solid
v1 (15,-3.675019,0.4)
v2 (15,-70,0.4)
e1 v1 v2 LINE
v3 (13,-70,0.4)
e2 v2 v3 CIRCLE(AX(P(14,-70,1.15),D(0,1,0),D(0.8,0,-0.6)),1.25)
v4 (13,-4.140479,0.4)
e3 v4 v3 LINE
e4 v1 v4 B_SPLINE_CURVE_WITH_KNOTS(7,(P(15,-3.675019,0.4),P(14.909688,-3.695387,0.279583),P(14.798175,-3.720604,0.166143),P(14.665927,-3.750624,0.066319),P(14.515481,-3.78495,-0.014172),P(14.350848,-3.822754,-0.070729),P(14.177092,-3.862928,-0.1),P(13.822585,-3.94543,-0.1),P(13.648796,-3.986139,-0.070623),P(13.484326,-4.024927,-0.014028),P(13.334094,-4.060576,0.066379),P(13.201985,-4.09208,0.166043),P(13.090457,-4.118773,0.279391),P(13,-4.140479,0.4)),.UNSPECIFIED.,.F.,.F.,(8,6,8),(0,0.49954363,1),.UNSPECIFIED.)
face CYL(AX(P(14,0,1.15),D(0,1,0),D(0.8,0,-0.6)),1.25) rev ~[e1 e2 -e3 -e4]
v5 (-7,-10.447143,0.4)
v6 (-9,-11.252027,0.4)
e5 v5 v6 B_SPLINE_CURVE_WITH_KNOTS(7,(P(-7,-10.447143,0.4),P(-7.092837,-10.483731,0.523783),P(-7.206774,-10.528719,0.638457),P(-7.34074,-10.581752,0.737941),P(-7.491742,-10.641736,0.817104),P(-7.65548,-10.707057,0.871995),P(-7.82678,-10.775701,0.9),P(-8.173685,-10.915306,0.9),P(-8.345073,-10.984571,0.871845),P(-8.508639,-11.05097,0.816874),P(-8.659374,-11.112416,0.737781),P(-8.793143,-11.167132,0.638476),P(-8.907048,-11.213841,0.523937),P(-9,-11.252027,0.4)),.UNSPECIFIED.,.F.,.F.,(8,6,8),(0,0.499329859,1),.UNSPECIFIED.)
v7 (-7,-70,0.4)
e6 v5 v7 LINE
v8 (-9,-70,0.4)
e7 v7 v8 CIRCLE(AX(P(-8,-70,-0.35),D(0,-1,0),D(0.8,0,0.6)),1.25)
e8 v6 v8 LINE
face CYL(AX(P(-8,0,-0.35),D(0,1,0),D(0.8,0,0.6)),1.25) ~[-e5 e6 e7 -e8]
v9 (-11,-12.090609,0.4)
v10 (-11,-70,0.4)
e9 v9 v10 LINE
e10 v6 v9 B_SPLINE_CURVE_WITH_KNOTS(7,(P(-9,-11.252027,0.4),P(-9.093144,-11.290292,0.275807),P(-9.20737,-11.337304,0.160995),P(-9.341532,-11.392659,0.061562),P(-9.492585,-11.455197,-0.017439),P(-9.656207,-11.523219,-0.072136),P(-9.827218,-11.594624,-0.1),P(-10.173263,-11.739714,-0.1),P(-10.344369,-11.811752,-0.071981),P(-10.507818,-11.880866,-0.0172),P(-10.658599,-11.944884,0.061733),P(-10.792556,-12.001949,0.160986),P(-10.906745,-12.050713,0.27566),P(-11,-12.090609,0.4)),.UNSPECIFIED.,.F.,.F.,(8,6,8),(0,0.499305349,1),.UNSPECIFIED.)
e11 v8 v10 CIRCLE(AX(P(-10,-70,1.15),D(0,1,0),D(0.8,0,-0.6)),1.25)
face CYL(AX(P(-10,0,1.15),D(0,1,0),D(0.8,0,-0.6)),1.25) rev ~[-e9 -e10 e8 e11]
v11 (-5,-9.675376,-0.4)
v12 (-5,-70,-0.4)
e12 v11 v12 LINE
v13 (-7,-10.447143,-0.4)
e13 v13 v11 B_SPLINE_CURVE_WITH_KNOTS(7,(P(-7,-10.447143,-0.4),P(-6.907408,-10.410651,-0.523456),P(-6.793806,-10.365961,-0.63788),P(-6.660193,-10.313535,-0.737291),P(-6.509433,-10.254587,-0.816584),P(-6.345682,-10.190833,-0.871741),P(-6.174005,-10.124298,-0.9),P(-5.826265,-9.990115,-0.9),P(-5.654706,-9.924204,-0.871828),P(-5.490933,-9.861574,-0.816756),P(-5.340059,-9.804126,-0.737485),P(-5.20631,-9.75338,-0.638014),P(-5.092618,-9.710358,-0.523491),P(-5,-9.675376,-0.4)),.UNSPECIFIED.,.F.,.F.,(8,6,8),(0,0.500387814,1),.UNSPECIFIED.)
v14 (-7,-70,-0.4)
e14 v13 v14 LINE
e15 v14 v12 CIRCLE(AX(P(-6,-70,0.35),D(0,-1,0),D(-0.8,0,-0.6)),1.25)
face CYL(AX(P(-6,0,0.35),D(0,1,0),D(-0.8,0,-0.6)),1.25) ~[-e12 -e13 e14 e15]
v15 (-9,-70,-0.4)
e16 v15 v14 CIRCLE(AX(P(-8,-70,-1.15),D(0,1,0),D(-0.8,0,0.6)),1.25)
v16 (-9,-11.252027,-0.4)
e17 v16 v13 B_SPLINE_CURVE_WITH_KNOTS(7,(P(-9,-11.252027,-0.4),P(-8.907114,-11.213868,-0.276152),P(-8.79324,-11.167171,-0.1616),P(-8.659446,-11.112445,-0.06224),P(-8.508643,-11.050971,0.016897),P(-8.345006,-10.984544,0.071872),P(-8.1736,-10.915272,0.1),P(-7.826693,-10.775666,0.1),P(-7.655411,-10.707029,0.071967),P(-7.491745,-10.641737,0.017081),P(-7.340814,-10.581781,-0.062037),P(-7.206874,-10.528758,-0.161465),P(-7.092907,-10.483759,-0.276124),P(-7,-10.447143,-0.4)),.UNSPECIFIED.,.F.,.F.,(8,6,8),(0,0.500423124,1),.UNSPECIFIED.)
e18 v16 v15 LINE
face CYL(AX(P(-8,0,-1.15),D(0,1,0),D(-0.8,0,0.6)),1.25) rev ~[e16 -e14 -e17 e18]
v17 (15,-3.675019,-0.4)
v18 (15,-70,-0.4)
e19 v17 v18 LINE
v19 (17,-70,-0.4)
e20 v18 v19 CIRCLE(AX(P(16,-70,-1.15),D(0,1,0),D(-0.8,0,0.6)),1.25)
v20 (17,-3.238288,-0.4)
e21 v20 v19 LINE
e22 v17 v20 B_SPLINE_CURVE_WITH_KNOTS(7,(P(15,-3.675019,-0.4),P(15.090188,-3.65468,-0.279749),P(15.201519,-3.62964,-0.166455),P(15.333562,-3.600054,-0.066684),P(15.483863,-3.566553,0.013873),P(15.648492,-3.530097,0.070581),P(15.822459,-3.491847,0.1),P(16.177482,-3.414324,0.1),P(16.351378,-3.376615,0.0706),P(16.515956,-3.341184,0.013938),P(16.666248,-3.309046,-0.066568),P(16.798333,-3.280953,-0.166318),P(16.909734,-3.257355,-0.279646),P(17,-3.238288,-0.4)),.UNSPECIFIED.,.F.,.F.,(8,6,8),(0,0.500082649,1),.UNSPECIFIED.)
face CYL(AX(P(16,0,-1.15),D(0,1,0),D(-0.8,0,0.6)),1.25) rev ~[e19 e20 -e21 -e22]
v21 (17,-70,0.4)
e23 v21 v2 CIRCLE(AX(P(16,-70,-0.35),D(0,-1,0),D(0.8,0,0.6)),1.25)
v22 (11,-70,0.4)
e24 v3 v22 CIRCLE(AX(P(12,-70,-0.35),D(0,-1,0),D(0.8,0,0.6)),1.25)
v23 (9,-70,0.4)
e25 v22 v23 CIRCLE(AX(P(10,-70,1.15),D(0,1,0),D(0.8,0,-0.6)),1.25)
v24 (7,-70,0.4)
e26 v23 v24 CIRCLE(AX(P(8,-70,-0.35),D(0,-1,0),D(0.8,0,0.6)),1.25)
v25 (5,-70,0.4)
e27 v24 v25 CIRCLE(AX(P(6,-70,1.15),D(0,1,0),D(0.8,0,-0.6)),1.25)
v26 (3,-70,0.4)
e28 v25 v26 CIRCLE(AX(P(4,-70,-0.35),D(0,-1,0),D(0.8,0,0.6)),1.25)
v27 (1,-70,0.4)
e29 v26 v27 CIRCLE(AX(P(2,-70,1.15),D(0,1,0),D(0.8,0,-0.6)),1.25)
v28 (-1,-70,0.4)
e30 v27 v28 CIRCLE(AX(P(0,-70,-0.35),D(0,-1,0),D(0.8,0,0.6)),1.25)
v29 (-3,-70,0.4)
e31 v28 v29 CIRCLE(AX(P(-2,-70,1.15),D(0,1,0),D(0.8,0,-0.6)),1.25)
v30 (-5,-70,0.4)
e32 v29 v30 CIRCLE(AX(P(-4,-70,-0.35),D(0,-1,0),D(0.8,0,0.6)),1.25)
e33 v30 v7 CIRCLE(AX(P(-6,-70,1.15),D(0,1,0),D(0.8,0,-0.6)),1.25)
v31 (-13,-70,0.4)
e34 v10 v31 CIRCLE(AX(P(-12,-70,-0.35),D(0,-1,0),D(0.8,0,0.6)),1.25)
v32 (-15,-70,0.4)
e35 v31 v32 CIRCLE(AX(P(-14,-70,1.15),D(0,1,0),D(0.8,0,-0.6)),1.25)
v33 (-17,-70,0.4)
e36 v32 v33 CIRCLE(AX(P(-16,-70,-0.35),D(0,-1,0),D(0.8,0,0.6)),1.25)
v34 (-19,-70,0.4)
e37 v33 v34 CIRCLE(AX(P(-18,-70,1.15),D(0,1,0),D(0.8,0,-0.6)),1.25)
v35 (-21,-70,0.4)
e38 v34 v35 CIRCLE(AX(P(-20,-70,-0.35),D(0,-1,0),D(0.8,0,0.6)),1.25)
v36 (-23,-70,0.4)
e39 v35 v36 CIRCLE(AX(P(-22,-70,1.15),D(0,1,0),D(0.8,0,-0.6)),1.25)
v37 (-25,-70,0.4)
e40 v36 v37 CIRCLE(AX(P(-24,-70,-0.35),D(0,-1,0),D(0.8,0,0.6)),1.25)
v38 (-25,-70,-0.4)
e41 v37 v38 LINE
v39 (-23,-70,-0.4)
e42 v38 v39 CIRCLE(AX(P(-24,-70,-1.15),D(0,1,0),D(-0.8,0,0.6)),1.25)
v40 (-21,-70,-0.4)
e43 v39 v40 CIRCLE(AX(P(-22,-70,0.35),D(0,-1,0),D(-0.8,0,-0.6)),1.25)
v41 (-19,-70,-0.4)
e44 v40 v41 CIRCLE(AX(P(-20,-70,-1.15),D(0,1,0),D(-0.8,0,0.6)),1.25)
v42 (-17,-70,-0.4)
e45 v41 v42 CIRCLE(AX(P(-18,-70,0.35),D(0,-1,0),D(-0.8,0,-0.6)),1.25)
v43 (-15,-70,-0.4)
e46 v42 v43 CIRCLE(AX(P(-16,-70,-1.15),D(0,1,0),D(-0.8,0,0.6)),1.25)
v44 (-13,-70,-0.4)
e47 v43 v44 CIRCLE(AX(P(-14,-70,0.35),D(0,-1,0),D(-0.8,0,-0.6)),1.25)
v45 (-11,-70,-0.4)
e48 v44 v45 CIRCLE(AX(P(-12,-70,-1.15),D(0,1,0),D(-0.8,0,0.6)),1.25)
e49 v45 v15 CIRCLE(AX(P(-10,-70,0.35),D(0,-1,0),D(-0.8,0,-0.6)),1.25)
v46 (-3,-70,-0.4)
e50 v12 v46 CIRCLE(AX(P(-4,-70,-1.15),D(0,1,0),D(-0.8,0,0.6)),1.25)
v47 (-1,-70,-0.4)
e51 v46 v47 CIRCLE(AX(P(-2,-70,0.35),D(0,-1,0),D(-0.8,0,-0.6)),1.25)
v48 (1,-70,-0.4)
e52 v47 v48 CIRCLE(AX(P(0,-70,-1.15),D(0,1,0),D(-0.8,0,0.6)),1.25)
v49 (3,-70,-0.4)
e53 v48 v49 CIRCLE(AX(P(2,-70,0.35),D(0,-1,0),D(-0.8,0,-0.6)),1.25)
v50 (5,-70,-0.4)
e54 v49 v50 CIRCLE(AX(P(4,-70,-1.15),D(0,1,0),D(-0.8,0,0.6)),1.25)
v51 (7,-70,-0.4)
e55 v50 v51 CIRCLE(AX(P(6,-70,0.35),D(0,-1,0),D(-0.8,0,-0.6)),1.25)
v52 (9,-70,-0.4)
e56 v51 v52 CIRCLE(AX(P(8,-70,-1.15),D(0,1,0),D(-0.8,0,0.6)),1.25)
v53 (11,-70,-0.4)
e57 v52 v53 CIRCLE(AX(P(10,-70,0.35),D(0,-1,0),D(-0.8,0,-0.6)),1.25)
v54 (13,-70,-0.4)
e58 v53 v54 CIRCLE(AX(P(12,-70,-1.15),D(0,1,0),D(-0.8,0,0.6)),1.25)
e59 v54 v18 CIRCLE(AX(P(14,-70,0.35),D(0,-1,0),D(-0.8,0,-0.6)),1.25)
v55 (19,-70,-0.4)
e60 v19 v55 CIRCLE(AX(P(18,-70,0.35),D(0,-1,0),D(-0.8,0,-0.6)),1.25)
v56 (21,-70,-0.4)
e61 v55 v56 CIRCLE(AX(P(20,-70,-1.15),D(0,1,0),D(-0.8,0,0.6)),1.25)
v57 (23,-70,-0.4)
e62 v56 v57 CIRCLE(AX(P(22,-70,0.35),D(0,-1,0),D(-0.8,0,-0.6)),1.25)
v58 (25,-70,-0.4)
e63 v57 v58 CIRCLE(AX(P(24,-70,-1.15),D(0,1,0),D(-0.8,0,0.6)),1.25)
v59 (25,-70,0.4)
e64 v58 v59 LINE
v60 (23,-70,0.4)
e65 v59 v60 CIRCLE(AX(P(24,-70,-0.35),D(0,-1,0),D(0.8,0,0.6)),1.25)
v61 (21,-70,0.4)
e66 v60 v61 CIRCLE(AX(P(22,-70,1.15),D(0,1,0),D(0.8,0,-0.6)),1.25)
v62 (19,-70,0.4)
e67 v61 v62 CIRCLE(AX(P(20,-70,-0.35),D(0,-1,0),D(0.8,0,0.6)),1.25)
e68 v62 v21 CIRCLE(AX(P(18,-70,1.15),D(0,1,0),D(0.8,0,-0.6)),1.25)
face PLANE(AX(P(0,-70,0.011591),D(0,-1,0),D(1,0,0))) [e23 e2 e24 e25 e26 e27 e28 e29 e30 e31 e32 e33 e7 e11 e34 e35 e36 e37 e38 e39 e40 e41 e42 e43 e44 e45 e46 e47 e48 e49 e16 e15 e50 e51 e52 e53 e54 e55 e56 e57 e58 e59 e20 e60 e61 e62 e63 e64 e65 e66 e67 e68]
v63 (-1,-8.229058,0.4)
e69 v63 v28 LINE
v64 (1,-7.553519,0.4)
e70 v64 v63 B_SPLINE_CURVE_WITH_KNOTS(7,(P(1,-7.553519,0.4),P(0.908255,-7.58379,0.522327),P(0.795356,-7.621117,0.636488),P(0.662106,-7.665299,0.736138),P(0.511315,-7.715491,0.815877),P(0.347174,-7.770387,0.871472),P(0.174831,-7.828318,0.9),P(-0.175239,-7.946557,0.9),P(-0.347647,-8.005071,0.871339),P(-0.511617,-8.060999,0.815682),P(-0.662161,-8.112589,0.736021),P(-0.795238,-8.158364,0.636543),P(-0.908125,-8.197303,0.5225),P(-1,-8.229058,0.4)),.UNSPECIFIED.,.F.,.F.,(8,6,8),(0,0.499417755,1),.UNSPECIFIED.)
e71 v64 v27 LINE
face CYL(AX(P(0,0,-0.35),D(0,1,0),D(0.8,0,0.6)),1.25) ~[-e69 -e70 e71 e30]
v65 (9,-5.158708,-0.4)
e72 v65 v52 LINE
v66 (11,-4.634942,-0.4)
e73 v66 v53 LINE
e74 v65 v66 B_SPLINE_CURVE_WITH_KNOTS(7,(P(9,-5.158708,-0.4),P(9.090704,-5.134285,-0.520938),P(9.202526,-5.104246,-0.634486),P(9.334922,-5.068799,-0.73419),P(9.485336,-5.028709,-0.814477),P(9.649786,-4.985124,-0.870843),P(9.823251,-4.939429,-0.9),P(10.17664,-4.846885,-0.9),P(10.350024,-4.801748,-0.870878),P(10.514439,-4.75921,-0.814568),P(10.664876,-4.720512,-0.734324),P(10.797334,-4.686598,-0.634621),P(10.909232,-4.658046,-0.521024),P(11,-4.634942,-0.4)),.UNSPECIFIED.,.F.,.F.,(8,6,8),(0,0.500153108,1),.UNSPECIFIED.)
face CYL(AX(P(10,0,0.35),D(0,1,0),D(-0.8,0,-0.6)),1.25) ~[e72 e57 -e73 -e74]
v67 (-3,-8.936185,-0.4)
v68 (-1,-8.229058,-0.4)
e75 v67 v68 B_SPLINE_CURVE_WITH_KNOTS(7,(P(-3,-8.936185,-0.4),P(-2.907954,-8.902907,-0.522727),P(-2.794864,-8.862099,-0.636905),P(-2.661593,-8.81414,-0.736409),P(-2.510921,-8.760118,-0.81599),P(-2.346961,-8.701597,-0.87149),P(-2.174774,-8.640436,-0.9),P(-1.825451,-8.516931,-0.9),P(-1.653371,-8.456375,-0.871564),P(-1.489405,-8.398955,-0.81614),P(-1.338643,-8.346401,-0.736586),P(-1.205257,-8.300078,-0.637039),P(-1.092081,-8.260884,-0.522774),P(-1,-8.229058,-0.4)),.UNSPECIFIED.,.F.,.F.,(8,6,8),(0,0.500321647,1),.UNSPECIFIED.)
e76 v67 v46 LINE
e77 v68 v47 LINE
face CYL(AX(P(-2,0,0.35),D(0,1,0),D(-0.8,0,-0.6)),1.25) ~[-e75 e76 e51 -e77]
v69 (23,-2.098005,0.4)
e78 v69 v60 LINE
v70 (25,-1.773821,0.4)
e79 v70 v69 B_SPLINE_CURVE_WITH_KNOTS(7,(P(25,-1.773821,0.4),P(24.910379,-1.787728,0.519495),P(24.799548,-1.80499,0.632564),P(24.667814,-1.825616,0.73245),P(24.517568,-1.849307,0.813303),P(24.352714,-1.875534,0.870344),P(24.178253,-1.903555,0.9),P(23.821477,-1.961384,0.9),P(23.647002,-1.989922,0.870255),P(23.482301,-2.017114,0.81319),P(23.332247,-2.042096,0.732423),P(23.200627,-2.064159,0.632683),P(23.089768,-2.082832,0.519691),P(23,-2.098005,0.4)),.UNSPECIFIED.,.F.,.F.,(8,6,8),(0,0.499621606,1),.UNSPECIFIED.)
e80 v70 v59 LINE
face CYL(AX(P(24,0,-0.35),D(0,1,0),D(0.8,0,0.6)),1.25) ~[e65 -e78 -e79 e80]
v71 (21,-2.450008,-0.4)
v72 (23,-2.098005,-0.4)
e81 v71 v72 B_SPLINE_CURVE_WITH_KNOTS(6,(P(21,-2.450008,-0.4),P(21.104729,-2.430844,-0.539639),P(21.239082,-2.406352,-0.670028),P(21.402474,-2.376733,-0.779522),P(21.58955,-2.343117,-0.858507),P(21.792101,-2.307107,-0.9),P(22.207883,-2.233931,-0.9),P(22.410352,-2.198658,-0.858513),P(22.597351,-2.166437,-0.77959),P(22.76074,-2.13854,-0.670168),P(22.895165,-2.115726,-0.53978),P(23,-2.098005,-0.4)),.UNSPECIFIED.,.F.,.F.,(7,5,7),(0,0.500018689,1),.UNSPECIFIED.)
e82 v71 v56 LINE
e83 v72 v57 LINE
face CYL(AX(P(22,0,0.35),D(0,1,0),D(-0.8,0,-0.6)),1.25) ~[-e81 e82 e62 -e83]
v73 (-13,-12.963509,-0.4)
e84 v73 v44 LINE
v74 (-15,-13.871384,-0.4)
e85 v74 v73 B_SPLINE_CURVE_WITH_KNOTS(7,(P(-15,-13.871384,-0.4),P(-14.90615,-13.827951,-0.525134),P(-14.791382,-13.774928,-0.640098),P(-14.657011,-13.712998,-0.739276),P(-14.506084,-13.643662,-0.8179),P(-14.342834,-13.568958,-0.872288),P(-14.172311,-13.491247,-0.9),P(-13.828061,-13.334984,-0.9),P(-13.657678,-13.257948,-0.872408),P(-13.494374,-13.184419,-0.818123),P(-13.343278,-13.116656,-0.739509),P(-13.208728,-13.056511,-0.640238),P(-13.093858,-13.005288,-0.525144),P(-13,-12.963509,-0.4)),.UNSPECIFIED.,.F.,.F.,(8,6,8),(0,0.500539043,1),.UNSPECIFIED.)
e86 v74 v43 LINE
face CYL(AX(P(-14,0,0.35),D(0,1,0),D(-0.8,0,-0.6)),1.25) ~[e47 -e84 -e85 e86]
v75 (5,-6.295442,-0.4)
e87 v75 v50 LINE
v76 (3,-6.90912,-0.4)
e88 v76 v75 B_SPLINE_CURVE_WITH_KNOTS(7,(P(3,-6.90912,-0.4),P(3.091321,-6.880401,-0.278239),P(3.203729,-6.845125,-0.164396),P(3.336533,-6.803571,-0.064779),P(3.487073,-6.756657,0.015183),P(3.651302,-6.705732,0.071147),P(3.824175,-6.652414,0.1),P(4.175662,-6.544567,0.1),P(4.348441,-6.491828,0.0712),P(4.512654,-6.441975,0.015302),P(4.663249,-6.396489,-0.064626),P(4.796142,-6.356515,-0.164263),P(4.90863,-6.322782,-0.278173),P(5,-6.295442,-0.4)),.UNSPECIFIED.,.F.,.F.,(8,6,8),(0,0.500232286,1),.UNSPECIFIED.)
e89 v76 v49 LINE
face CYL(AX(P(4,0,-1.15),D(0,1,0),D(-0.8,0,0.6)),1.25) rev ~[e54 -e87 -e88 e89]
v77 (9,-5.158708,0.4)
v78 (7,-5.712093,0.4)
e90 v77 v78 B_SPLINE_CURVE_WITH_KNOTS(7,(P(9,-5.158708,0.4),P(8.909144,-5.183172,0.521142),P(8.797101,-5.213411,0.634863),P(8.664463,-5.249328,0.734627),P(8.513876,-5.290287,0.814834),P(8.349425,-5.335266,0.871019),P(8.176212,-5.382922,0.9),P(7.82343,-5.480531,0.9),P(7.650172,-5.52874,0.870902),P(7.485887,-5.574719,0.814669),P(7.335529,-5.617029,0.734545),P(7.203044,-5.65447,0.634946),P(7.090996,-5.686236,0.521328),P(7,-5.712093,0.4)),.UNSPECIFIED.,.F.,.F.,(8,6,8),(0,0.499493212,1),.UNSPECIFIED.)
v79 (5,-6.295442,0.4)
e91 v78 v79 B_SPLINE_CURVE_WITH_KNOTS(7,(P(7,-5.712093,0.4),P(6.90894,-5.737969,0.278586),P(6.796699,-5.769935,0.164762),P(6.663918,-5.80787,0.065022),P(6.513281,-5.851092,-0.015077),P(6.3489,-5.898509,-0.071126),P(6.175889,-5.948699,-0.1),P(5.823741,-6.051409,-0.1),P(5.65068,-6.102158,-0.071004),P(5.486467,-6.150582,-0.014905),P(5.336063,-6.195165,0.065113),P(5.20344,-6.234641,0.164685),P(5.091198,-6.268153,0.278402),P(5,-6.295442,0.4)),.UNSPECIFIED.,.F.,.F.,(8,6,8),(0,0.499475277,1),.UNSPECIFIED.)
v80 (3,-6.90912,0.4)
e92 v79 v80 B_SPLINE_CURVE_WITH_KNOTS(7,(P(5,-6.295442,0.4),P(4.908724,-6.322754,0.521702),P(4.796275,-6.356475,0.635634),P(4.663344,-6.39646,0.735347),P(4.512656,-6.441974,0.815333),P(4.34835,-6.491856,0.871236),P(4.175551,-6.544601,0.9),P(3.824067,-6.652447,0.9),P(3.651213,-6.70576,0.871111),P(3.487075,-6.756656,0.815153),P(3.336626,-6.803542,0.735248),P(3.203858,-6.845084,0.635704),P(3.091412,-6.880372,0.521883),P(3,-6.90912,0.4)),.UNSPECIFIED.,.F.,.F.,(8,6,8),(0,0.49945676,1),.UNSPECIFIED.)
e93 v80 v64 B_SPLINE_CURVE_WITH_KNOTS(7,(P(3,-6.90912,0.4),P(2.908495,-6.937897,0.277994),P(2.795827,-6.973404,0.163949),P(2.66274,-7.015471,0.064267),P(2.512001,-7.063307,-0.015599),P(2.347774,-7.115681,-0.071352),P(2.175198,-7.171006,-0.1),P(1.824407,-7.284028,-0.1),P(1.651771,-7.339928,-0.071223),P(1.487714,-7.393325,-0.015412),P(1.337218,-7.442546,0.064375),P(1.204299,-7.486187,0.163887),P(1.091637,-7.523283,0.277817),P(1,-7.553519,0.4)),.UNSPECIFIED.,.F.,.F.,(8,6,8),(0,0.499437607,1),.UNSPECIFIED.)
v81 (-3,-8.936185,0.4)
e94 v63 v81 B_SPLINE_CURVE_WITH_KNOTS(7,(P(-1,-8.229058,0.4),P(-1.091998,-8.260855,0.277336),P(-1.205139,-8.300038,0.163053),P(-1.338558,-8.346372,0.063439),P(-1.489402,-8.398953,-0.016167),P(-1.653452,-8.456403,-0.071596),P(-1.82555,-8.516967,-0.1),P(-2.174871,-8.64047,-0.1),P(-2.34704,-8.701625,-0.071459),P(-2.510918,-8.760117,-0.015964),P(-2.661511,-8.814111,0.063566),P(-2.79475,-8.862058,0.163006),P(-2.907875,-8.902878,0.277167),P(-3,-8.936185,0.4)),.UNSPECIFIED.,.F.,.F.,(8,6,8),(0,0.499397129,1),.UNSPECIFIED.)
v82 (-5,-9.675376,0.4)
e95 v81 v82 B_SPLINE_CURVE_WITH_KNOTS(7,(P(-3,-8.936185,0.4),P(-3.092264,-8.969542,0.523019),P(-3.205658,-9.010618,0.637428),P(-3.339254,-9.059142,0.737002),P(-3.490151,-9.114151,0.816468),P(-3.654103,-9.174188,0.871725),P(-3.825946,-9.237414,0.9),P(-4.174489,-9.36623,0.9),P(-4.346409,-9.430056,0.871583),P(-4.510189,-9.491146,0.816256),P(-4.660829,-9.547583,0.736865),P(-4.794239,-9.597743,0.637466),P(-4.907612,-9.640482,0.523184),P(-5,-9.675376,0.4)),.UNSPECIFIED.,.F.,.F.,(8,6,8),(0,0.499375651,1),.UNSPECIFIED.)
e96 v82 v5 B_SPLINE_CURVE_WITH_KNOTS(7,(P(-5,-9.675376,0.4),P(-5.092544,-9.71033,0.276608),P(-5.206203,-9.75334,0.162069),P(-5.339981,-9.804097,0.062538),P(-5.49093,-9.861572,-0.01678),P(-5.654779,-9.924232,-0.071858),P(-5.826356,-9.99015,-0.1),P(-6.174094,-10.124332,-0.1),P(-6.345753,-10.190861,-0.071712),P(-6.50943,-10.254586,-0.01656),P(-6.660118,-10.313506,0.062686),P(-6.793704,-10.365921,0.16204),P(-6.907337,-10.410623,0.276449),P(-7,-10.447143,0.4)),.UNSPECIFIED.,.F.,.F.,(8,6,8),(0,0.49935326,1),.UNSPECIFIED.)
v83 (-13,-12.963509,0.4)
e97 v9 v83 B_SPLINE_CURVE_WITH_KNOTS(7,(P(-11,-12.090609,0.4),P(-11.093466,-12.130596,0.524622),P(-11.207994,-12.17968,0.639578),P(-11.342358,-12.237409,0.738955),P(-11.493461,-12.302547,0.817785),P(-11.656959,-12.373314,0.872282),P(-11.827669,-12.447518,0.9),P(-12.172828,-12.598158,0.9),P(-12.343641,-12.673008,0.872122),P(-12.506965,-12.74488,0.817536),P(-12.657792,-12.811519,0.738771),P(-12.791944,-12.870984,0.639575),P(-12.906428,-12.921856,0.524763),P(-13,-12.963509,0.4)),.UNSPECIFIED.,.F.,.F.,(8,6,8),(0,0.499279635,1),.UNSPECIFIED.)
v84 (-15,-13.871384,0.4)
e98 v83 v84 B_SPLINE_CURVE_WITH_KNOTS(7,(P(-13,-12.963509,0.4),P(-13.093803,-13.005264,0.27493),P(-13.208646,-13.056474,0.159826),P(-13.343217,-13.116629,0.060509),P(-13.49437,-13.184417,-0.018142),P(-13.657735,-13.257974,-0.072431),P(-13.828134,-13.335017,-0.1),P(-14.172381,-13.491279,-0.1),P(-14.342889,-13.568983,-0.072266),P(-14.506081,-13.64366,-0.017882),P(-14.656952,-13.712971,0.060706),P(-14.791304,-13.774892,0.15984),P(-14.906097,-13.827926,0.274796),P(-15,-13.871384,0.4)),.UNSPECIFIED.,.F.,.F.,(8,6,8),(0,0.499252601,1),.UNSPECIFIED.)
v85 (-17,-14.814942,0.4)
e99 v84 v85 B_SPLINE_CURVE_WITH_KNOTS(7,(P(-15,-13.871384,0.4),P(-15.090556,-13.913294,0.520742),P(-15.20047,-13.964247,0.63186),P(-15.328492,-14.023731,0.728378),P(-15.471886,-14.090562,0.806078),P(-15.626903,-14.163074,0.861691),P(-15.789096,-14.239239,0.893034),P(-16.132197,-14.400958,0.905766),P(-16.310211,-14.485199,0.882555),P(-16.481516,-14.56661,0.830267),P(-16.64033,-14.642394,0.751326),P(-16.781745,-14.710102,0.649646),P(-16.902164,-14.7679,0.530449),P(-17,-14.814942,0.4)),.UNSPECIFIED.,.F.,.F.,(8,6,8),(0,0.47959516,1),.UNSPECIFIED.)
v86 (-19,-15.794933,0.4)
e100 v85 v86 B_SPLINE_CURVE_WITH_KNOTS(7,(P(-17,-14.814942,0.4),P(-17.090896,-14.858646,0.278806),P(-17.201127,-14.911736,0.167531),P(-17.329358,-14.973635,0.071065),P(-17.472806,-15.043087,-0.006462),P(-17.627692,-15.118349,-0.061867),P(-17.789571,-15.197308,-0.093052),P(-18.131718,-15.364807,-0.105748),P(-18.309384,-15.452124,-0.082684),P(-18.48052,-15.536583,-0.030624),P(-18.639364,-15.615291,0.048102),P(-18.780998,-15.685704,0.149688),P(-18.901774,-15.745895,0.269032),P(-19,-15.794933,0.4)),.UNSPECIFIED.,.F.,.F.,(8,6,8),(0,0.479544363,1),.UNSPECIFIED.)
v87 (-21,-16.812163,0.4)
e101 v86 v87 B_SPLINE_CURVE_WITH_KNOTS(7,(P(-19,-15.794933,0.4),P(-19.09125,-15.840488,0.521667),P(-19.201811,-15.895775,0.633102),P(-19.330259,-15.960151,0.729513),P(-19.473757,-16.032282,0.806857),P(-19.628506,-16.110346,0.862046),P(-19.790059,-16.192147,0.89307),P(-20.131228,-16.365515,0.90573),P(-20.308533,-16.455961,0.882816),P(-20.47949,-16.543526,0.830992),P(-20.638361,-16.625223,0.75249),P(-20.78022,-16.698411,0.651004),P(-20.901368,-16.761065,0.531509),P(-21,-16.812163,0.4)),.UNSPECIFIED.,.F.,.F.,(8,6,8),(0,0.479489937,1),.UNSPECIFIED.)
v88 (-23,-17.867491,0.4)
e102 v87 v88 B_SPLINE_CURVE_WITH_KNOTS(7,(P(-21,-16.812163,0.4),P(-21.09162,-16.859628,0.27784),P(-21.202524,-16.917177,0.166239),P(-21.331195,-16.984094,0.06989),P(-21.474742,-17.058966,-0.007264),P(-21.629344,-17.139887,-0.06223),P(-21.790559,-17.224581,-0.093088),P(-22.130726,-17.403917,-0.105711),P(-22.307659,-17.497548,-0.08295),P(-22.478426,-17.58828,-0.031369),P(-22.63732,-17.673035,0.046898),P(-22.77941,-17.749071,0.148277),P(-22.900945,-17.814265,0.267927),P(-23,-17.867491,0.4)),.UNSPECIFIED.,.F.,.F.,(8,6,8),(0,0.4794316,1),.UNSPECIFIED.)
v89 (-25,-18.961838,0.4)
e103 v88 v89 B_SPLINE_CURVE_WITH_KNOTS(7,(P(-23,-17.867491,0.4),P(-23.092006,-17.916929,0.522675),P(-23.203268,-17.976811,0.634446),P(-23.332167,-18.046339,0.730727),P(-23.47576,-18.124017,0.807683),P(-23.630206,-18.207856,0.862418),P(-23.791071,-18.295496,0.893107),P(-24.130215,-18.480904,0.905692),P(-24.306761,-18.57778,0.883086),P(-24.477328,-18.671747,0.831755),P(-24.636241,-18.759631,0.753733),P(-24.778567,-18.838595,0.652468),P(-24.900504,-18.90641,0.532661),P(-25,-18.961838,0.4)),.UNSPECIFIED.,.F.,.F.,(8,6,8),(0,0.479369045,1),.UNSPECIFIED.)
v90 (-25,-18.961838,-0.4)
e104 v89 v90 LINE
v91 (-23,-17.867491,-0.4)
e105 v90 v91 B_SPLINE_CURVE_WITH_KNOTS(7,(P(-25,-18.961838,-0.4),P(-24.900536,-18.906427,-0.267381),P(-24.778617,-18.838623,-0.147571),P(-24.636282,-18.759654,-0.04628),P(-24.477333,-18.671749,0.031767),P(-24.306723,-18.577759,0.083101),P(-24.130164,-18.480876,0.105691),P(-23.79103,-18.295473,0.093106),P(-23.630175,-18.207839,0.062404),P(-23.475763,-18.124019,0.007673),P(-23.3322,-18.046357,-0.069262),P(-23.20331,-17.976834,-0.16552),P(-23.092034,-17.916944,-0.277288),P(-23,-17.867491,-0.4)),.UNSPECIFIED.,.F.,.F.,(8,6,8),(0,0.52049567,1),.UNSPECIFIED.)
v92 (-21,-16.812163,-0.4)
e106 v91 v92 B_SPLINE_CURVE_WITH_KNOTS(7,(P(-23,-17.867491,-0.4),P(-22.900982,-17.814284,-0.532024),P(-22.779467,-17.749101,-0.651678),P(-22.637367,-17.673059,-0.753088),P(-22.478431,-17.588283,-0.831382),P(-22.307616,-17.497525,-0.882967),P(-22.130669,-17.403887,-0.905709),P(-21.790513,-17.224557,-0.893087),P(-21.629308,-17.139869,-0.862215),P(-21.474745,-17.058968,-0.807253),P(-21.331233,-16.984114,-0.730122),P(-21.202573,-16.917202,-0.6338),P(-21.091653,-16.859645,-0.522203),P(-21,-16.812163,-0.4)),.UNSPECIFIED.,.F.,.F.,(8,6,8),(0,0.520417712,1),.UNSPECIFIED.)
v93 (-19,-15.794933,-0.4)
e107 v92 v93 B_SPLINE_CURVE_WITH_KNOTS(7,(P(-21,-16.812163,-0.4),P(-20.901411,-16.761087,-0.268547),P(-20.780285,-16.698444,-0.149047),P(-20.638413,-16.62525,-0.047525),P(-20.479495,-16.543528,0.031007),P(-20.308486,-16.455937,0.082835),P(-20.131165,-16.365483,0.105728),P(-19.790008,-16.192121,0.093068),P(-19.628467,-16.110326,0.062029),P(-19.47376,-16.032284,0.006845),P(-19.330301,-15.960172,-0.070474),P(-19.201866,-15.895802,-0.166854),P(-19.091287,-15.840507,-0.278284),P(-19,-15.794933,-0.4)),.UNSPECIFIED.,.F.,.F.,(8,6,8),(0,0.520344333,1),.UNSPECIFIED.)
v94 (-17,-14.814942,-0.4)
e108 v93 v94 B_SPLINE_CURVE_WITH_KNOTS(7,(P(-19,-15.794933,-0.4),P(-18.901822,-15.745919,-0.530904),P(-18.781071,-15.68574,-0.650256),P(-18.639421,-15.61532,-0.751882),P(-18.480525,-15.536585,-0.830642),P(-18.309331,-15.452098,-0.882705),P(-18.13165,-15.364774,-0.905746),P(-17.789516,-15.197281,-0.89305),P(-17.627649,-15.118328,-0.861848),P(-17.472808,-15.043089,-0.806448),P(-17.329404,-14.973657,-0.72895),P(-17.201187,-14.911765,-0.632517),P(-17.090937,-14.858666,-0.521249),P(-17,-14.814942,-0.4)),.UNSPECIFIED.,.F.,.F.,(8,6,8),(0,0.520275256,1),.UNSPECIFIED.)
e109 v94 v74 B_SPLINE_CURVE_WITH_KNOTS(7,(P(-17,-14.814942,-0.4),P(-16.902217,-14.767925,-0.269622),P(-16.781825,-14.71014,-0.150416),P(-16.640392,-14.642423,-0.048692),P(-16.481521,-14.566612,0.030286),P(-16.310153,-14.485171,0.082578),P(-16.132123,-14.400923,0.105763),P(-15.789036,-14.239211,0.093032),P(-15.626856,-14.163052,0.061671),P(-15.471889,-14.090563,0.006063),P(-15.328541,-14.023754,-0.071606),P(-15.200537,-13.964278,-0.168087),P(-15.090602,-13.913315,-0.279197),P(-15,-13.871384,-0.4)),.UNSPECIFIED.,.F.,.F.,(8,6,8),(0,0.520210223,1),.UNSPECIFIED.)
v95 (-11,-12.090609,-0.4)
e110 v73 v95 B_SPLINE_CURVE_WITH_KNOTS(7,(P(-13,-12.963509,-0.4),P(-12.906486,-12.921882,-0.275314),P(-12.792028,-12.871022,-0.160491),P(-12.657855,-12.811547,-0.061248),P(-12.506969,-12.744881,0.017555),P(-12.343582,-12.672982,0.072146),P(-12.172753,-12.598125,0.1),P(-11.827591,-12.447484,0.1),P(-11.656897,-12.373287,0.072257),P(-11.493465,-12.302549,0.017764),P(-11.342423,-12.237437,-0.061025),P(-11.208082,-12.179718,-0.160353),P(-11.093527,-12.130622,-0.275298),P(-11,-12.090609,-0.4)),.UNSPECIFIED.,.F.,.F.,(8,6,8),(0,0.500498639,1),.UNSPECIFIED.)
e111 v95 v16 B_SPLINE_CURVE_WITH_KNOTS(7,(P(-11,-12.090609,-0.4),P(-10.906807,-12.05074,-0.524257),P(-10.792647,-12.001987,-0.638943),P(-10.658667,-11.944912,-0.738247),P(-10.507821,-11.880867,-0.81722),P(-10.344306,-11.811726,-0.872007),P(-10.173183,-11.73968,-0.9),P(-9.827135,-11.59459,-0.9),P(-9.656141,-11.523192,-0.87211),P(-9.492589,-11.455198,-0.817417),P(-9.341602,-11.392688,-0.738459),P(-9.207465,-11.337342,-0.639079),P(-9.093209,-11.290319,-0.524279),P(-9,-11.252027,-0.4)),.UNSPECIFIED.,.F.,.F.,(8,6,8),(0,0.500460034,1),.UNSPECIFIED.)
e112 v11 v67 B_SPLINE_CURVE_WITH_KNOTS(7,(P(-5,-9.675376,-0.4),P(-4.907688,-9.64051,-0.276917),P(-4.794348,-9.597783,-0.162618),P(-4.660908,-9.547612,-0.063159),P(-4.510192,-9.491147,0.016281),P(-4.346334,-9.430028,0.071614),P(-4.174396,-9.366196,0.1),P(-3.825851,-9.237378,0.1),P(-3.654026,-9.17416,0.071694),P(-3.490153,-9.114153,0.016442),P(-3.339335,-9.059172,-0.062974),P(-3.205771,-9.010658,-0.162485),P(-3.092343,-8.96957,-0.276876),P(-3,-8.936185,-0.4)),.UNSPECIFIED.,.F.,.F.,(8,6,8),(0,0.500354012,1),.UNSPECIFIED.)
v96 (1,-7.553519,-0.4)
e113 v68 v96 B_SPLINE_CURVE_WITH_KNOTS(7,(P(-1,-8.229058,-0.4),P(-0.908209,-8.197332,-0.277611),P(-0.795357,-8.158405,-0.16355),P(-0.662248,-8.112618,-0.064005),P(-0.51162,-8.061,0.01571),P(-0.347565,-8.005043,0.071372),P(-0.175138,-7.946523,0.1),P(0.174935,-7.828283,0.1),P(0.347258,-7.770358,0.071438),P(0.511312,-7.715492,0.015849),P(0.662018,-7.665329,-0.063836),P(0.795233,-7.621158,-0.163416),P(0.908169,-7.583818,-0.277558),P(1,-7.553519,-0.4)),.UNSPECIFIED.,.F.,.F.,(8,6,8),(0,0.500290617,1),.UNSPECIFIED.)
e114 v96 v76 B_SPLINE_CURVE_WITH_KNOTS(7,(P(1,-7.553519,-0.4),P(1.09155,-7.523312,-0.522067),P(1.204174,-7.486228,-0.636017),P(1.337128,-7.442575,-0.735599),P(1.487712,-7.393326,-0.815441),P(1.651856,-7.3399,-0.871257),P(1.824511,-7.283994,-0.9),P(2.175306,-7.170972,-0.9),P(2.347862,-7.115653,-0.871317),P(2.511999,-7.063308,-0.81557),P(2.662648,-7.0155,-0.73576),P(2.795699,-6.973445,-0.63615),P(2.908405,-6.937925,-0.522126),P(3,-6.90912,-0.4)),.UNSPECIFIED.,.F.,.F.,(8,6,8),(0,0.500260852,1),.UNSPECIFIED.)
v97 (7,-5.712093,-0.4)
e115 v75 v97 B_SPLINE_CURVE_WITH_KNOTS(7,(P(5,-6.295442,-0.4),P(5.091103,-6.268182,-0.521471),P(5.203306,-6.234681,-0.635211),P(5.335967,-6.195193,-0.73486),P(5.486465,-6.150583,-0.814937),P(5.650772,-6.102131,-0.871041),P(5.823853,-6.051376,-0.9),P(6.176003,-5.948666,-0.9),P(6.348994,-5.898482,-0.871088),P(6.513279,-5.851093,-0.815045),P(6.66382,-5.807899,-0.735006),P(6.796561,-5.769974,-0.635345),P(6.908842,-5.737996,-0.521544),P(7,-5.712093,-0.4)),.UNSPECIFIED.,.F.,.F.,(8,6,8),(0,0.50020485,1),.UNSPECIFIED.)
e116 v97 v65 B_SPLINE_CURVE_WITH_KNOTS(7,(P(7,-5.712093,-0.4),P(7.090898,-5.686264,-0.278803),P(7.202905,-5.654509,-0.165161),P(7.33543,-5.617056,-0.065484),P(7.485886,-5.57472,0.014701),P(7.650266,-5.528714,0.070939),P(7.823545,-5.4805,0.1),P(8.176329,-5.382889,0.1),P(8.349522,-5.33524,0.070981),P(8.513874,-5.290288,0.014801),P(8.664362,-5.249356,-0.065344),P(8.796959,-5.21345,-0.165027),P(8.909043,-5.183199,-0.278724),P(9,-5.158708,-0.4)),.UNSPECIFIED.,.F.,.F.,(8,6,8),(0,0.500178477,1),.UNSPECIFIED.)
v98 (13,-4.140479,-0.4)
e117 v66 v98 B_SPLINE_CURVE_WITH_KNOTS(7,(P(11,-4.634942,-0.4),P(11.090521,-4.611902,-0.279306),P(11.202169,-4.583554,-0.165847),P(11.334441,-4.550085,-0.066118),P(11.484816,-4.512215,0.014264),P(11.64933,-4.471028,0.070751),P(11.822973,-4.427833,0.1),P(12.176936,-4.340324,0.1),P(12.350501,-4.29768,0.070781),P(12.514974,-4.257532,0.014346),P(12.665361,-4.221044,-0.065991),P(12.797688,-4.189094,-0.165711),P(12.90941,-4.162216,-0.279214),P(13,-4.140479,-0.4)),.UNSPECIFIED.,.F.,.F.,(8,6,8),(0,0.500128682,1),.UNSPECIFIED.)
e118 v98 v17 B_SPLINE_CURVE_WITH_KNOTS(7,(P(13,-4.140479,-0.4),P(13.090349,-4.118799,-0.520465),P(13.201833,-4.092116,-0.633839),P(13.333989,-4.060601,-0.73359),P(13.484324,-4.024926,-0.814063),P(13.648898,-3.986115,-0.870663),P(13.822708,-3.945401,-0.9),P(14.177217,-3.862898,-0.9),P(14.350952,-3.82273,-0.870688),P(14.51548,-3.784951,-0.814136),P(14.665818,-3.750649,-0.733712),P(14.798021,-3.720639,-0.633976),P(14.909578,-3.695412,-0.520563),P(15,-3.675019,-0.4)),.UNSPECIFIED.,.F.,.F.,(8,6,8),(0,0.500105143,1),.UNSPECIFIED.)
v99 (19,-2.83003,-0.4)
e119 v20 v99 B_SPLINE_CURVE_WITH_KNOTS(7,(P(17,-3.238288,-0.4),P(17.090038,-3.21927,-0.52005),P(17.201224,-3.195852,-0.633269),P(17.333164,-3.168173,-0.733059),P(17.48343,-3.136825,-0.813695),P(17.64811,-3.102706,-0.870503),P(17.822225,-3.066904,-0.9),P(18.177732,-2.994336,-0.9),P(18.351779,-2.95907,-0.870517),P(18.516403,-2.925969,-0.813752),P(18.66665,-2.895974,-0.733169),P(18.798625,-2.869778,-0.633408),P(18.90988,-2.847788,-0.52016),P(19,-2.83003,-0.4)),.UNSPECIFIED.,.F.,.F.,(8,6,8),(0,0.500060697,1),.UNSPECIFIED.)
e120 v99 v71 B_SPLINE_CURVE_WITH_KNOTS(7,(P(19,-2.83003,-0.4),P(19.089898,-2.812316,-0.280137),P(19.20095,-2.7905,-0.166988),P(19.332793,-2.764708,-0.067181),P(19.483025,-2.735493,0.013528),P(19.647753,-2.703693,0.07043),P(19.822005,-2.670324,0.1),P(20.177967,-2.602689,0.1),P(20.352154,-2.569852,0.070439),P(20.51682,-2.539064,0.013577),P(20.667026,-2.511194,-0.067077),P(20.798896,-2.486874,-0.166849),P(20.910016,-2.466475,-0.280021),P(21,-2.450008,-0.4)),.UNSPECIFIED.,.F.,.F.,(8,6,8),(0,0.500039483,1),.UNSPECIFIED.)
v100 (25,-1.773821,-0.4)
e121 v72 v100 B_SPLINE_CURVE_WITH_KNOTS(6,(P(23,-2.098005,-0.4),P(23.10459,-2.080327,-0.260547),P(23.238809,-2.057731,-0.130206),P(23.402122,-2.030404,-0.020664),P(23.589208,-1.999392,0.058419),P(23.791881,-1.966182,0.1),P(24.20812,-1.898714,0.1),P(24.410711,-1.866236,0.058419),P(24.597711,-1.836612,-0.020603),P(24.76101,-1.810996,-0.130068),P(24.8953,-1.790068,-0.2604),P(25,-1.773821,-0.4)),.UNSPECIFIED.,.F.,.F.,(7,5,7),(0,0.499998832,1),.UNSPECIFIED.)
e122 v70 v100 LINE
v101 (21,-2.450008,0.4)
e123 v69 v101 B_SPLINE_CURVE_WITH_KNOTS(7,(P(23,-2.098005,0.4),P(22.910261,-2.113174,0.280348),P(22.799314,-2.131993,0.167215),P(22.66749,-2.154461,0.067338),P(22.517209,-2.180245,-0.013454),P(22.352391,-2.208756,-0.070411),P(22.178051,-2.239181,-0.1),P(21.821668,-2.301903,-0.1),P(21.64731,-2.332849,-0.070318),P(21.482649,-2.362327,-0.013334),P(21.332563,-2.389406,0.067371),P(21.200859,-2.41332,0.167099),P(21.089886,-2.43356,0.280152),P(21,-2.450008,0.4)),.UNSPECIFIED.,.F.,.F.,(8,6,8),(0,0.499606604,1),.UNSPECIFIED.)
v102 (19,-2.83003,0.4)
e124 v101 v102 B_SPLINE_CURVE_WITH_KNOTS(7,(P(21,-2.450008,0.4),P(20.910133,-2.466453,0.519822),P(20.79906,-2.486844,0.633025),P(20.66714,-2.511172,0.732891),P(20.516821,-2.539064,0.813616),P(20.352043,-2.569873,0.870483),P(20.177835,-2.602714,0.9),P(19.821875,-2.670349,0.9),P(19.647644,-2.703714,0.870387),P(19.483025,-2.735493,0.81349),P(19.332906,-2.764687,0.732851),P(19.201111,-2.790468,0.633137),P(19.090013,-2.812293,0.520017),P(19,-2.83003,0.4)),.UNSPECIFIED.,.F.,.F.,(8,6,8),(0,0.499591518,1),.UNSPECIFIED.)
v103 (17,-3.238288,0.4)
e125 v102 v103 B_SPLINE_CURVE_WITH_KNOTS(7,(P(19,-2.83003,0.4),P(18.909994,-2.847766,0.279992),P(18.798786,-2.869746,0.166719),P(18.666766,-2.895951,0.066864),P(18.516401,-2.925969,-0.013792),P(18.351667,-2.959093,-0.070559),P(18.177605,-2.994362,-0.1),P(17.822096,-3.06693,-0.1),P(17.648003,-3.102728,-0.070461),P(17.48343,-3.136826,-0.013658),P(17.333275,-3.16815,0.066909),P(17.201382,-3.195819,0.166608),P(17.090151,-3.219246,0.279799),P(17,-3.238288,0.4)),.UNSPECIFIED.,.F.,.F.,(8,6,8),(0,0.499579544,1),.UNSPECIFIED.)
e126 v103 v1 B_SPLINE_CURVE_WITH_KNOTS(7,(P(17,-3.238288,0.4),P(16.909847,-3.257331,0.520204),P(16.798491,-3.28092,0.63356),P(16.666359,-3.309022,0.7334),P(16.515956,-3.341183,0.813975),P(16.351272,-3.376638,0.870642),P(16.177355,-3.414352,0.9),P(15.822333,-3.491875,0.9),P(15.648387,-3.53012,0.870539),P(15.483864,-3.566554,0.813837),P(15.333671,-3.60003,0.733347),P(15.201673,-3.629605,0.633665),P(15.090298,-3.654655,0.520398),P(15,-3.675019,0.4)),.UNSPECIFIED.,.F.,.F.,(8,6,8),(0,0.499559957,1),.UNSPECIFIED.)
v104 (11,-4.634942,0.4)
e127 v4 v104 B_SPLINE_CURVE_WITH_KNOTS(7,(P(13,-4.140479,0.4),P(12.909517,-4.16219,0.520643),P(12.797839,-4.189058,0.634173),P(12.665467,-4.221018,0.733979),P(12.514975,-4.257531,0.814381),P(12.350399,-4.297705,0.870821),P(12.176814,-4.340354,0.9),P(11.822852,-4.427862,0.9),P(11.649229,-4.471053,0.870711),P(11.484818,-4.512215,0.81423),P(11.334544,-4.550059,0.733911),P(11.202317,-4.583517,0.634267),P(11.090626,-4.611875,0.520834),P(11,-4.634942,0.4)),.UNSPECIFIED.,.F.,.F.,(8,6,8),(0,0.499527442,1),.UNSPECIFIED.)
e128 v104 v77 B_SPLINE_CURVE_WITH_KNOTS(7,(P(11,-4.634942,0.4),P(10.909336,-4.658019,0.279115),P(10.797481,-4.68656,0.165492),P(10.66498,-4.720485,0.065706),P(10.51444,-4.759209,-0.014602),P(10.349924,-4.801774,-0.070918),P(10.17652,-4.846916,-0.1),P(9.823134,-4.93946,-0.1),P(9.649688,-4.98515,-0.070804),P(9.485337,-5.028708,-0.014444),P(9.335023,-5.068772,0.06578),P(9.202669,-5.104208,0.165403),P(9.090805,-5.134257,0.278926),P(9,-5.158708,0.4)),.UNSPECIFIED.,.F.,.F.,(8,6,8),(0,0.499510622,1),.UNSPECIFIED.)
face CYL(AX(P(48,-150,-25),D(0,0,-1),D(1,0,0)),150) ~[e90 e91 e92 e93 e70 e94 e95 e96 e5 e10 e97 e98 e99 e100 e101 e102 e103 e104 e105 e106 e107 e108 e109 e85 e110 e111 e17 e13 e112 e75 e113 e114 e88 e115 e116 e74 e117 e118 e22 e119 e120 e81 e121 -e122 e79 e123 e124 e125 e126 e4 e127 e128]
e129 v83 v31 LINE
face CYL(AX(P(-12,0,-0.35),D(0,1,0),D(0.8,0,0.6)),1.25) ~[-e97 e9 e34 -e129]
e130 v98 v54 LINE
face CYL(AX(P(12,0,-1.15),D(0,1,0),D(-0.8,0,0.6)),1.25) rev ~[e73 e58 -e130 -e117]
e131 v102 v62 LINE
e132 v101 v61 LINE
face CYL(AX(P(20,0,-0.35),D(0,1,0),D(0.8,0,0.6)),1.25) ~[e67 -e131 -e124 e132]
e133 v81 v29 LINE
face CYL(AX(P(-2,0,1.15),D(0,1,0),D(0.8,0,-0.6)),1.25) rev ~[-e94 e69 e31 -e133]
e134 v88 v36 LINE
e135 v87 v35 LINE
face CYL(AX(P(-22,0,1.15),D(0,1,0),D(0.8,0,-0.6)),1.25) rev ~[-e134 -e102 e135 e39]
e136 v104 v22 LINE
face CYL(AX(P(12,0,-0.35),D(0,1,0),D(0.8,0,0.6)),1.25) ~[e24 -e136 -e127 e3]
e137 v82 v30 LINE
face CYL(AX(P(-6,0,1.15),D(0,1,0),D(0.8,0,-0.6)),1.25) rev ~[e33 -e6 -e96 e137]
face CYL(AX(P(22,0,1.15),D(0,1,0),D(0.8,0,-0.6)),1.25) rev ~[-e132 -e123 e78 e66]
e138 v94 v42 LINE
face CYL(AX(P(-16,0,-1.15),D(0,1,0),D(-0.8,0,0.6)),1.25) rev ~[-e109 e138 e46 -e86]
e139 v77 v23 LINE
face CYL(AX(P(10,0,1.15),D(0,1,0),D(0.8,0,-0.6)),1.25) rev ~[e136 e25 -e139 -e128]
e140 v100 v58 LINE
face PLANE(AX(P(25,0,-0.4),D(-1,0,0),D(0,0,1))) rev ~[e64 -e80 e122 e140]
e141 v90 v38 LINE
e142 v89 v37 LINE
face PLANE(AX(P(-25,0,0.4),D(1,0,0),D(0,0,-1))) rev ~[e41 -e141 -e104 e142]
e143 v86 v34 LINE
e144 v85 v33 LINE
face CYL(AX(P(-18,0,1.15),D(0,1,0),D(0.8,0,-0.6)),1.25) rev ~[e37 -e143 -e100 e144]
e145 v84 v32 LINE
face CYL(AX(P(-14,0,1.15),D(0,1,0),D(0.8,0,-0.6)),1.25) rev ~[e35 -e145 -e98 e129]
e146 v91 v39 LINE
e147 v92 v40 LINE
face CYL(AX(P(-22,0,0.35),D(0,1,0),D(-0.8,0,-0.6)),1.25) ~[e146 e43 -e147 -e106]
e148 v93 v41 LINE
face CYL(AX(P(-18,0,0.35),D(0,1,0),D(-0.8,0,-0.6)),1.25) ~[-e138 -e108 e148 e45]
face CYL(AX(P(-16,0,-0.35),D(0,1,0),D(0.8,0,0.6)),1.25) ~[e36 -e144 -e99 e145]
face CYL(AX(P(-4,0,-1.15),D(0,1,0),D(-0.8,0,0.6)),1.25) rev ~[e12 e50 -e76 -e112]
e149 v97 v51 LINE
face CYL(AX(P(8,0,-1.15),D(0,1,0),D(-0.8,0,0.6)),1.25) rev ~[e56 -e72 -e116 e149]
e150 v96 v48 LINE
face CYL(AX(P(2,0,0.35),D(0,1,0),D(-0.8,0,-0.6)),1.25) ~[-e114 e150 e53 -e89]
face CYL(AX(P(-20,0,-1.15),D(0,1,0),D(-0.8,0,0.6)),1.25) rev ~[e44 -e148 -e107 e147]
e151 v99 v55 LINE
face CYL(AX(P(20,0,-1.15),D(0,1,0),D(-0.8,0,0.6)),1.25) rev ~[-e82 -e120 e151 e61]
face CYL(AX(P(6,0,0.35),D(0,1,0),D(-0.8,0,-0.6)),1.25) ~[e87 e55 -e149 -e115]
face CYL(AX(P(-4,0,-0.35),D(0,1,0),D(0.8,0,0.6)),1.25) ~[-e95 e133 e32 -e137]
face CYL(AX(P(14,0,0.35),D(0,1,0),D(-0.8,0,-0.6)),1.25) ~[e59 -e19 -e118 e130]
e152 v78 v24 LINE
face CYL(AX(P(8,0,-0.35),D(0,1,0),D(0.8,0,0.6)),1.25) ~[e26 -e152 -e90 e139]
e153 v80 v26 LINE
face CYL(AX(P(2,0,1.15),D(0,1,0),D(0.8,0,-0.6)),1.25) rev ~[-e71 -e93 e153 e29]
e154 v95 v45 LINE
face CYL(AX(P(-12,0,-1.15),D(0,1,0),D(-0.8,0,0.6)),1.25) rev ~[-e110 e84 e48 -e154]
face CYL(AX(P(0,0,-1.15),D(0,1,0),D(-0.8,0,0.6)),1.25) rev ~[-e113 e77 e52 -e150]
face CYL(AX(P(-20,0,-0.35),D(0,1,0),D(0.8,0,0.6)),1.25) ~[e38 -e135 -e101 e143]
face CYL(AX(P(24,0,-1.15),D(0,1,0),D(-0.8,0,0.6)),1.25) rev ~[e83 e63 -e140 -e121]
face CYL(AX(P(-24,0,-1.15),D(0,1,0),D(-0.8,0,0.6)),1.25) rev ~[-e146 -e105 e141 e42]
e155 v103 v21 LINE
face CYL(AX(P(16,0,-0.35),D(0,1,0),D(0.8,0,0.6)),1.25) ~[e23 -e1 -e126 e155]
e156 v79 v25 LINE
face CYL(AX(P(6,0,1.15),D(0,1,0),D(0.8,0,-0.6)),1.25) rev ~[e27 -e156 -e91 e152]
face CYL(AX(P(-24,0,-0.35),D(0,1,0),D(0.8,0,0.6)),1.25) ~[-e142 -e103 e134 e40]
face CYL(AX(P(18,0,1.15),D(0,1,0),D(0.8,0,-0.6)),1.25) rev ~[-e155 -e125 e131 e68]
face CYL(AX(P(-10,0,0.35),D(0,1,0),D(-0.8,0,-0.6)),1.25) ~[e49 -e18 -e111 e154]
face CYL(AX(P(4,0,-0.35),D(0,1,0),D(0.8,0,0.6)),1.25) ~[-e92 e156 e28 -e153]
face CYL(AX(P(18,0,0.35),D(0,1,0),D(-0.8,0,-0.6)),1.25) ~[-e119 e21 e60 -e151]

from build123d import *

# Parameters (mm, degrees)
F1_DEPTH = 70
F3_START = -25
F2_R     = 150
F3_DEPTH = 50


with BuildPart() as f1:
    # F0 (on Front) → F1 (new body)
    with BuildSketch(Plane.XZ):
        with BuildLine():
            ThreePointArc((-21, -0.4), (-20, 0.1), (-19, -0.4))
            ThreePointArc((-19, -0.4), (-18, -0.9), (-17, -0.4))
            ThreePointArc((-17, -0.4), (-16, 0.1), (-15, -0.4))
            ThreePointArc((-15, -0.4), (-14, -0.9), (-13, -0.4))
            ThreePointArc((-13, -0.4), (-12, 0.1), (-11, -0.4))
            ThreePointArc((-11, -0.4), (-10, -0.9), (-9, -0.4))
            ThreePointArc((-9, -0.4), (-8, 0.1), (-7, -0.4))
            ThreePointArc((-7, -0.4), (-6, -0.9), (-5, -0.4))
            ThreePointArc((-5, -0.4), (-4, 0.1), (-3, -0.4))
            ThreePointArc((-3, -0.4), (-2, -0.9), (-1, -0.4))
            ThreePointArc((-1, -0.4), (0, 0.1), (1, -0.4))
            ThreePointArc((1, -0.4), (2, -0.9), (3, -0.4))
            ThreePointArc((3, -0.4), (4, 0.1), (5, -0.4))
            ThreePointArc((5, -0.4), (6, -0.9), (7, -0.4))
            ThreePointArc((7, -0.4), (8, 0.1), (9, -0.4))
            ThreePointArc((9, -0.4), (10, -0.9), (11, -0.4))
            ThreePointArc((11, -0.4), (12, 0.1), (13, -0.4))
            ThreePointArc((13, -0.4), (14, -0.9), (15, -0.4))
            ThreePointArc((15, -0.4), (16, 0.1), (17, -0.4))
            ThreePointArc((17, -0.4), (18, -0.9), (19, -0.4))
            ThreePointArc((19, -0.4), (20, 0.1), (21, -0.4))
            ThreePointArc((21, -0.4), (22, -0.9), (23, -0.4))
            ThreePointArc((23, -0.4), (24, 0.1), (25, -0.4))
            Line((25, -0.4), (25, 0.4))
            ThreePointArc((25, 0.4), (24, 0.9), (23, 0.4))
            ThreePointArc((23, 0.4), (22, -0.1), (21, 0.4))
            ThreePointArc((21, 0.4), (20, 0.9), (19, 0.4))
            ThreePointArc((19, 0.4), (18, -0.1), (17, 0.4))
            ThreePointArc((17, 0.4), (16, 0.9), (15, 0.4))
            ThreePointArc((15, 0.4), (14, -0.1), (13, 0.4))
            ThreePointArc((13, 0.4), (12, 0.9), (11, 0.4))
            ThreePointArc((11, 0.4), (10, -0.1), (9, 0.4))
            ThreePointArc((9, 0.4), (8, 0.9), (7, 0.4))
            ThreePointArc((7, 0.4), (6, -0.1), (5, 0.4))
            ThreePointArc((5, 0.4), (4, 0.9), (3, 0.4))
            ThreePointArc((3, 0.4), (2, -0.1), (1, 0.4))
            ThreePointArc((1, 0.4), (0, 0.9), (-1, 0.4))
            ThreePointArc((-1, 0.4), (-2, -0.1), (-3, 0.4))
            ThreePointArc((-3, 0.4), (-4, 0.9), (-5, 0.4))
            ThreePointArc((-5, 0.4), (-6, -0.1), (-7, 0.4))
            ThreePointArc((-7, 0.4), (-8, 0.9), (-9, 0.4))
            ThreePointArc((-9, 0.4), (-10, -0.1), (-11, 0.4))
            ThreePointArc((-11, 0.4), (-12, 0.9), (-13, 0.4))
            ThreePointArc((-13, 0.4), (-14, -0.1), (-15, 0.4))
            ThreePointArc((-15, 0.4), (-16, 0.9), (-17, 0.4))
            ThreePointArc((-17, 0.4), (-18, -0.1), (-19, 0.4))
            ThreePointArc((-19, 0.4), (-20, 0.9), (-21, 0.4))
            ThreePointArc((-21, 0.4), (-22, -0.1), (-23, 0.4))
            ThreePointArc((-23, 0.4), (-24, 0.9), (-25, 0.4))
            Line((-25, 0.4), (-25, -0.4))
            ThreePointArc((-25, -0.4), (-24, 0.1), (-23, -0.4))
            ThreePointArc((-23, -0.4), (-22, -0.9), (-21, -0.4))
        make_face()
    extrude(amount=F1_DEPTH)

    # F2 (on Top) → F3 (intersect)
    with BuildSketch(Plane.XY.offset(F3_START)):
        with Locations((48, -150)):
            Circle(F2_R)
    extrude(amount=F3_DEPTH, mode=Mode.INTERSECT)


solid = f1.part
